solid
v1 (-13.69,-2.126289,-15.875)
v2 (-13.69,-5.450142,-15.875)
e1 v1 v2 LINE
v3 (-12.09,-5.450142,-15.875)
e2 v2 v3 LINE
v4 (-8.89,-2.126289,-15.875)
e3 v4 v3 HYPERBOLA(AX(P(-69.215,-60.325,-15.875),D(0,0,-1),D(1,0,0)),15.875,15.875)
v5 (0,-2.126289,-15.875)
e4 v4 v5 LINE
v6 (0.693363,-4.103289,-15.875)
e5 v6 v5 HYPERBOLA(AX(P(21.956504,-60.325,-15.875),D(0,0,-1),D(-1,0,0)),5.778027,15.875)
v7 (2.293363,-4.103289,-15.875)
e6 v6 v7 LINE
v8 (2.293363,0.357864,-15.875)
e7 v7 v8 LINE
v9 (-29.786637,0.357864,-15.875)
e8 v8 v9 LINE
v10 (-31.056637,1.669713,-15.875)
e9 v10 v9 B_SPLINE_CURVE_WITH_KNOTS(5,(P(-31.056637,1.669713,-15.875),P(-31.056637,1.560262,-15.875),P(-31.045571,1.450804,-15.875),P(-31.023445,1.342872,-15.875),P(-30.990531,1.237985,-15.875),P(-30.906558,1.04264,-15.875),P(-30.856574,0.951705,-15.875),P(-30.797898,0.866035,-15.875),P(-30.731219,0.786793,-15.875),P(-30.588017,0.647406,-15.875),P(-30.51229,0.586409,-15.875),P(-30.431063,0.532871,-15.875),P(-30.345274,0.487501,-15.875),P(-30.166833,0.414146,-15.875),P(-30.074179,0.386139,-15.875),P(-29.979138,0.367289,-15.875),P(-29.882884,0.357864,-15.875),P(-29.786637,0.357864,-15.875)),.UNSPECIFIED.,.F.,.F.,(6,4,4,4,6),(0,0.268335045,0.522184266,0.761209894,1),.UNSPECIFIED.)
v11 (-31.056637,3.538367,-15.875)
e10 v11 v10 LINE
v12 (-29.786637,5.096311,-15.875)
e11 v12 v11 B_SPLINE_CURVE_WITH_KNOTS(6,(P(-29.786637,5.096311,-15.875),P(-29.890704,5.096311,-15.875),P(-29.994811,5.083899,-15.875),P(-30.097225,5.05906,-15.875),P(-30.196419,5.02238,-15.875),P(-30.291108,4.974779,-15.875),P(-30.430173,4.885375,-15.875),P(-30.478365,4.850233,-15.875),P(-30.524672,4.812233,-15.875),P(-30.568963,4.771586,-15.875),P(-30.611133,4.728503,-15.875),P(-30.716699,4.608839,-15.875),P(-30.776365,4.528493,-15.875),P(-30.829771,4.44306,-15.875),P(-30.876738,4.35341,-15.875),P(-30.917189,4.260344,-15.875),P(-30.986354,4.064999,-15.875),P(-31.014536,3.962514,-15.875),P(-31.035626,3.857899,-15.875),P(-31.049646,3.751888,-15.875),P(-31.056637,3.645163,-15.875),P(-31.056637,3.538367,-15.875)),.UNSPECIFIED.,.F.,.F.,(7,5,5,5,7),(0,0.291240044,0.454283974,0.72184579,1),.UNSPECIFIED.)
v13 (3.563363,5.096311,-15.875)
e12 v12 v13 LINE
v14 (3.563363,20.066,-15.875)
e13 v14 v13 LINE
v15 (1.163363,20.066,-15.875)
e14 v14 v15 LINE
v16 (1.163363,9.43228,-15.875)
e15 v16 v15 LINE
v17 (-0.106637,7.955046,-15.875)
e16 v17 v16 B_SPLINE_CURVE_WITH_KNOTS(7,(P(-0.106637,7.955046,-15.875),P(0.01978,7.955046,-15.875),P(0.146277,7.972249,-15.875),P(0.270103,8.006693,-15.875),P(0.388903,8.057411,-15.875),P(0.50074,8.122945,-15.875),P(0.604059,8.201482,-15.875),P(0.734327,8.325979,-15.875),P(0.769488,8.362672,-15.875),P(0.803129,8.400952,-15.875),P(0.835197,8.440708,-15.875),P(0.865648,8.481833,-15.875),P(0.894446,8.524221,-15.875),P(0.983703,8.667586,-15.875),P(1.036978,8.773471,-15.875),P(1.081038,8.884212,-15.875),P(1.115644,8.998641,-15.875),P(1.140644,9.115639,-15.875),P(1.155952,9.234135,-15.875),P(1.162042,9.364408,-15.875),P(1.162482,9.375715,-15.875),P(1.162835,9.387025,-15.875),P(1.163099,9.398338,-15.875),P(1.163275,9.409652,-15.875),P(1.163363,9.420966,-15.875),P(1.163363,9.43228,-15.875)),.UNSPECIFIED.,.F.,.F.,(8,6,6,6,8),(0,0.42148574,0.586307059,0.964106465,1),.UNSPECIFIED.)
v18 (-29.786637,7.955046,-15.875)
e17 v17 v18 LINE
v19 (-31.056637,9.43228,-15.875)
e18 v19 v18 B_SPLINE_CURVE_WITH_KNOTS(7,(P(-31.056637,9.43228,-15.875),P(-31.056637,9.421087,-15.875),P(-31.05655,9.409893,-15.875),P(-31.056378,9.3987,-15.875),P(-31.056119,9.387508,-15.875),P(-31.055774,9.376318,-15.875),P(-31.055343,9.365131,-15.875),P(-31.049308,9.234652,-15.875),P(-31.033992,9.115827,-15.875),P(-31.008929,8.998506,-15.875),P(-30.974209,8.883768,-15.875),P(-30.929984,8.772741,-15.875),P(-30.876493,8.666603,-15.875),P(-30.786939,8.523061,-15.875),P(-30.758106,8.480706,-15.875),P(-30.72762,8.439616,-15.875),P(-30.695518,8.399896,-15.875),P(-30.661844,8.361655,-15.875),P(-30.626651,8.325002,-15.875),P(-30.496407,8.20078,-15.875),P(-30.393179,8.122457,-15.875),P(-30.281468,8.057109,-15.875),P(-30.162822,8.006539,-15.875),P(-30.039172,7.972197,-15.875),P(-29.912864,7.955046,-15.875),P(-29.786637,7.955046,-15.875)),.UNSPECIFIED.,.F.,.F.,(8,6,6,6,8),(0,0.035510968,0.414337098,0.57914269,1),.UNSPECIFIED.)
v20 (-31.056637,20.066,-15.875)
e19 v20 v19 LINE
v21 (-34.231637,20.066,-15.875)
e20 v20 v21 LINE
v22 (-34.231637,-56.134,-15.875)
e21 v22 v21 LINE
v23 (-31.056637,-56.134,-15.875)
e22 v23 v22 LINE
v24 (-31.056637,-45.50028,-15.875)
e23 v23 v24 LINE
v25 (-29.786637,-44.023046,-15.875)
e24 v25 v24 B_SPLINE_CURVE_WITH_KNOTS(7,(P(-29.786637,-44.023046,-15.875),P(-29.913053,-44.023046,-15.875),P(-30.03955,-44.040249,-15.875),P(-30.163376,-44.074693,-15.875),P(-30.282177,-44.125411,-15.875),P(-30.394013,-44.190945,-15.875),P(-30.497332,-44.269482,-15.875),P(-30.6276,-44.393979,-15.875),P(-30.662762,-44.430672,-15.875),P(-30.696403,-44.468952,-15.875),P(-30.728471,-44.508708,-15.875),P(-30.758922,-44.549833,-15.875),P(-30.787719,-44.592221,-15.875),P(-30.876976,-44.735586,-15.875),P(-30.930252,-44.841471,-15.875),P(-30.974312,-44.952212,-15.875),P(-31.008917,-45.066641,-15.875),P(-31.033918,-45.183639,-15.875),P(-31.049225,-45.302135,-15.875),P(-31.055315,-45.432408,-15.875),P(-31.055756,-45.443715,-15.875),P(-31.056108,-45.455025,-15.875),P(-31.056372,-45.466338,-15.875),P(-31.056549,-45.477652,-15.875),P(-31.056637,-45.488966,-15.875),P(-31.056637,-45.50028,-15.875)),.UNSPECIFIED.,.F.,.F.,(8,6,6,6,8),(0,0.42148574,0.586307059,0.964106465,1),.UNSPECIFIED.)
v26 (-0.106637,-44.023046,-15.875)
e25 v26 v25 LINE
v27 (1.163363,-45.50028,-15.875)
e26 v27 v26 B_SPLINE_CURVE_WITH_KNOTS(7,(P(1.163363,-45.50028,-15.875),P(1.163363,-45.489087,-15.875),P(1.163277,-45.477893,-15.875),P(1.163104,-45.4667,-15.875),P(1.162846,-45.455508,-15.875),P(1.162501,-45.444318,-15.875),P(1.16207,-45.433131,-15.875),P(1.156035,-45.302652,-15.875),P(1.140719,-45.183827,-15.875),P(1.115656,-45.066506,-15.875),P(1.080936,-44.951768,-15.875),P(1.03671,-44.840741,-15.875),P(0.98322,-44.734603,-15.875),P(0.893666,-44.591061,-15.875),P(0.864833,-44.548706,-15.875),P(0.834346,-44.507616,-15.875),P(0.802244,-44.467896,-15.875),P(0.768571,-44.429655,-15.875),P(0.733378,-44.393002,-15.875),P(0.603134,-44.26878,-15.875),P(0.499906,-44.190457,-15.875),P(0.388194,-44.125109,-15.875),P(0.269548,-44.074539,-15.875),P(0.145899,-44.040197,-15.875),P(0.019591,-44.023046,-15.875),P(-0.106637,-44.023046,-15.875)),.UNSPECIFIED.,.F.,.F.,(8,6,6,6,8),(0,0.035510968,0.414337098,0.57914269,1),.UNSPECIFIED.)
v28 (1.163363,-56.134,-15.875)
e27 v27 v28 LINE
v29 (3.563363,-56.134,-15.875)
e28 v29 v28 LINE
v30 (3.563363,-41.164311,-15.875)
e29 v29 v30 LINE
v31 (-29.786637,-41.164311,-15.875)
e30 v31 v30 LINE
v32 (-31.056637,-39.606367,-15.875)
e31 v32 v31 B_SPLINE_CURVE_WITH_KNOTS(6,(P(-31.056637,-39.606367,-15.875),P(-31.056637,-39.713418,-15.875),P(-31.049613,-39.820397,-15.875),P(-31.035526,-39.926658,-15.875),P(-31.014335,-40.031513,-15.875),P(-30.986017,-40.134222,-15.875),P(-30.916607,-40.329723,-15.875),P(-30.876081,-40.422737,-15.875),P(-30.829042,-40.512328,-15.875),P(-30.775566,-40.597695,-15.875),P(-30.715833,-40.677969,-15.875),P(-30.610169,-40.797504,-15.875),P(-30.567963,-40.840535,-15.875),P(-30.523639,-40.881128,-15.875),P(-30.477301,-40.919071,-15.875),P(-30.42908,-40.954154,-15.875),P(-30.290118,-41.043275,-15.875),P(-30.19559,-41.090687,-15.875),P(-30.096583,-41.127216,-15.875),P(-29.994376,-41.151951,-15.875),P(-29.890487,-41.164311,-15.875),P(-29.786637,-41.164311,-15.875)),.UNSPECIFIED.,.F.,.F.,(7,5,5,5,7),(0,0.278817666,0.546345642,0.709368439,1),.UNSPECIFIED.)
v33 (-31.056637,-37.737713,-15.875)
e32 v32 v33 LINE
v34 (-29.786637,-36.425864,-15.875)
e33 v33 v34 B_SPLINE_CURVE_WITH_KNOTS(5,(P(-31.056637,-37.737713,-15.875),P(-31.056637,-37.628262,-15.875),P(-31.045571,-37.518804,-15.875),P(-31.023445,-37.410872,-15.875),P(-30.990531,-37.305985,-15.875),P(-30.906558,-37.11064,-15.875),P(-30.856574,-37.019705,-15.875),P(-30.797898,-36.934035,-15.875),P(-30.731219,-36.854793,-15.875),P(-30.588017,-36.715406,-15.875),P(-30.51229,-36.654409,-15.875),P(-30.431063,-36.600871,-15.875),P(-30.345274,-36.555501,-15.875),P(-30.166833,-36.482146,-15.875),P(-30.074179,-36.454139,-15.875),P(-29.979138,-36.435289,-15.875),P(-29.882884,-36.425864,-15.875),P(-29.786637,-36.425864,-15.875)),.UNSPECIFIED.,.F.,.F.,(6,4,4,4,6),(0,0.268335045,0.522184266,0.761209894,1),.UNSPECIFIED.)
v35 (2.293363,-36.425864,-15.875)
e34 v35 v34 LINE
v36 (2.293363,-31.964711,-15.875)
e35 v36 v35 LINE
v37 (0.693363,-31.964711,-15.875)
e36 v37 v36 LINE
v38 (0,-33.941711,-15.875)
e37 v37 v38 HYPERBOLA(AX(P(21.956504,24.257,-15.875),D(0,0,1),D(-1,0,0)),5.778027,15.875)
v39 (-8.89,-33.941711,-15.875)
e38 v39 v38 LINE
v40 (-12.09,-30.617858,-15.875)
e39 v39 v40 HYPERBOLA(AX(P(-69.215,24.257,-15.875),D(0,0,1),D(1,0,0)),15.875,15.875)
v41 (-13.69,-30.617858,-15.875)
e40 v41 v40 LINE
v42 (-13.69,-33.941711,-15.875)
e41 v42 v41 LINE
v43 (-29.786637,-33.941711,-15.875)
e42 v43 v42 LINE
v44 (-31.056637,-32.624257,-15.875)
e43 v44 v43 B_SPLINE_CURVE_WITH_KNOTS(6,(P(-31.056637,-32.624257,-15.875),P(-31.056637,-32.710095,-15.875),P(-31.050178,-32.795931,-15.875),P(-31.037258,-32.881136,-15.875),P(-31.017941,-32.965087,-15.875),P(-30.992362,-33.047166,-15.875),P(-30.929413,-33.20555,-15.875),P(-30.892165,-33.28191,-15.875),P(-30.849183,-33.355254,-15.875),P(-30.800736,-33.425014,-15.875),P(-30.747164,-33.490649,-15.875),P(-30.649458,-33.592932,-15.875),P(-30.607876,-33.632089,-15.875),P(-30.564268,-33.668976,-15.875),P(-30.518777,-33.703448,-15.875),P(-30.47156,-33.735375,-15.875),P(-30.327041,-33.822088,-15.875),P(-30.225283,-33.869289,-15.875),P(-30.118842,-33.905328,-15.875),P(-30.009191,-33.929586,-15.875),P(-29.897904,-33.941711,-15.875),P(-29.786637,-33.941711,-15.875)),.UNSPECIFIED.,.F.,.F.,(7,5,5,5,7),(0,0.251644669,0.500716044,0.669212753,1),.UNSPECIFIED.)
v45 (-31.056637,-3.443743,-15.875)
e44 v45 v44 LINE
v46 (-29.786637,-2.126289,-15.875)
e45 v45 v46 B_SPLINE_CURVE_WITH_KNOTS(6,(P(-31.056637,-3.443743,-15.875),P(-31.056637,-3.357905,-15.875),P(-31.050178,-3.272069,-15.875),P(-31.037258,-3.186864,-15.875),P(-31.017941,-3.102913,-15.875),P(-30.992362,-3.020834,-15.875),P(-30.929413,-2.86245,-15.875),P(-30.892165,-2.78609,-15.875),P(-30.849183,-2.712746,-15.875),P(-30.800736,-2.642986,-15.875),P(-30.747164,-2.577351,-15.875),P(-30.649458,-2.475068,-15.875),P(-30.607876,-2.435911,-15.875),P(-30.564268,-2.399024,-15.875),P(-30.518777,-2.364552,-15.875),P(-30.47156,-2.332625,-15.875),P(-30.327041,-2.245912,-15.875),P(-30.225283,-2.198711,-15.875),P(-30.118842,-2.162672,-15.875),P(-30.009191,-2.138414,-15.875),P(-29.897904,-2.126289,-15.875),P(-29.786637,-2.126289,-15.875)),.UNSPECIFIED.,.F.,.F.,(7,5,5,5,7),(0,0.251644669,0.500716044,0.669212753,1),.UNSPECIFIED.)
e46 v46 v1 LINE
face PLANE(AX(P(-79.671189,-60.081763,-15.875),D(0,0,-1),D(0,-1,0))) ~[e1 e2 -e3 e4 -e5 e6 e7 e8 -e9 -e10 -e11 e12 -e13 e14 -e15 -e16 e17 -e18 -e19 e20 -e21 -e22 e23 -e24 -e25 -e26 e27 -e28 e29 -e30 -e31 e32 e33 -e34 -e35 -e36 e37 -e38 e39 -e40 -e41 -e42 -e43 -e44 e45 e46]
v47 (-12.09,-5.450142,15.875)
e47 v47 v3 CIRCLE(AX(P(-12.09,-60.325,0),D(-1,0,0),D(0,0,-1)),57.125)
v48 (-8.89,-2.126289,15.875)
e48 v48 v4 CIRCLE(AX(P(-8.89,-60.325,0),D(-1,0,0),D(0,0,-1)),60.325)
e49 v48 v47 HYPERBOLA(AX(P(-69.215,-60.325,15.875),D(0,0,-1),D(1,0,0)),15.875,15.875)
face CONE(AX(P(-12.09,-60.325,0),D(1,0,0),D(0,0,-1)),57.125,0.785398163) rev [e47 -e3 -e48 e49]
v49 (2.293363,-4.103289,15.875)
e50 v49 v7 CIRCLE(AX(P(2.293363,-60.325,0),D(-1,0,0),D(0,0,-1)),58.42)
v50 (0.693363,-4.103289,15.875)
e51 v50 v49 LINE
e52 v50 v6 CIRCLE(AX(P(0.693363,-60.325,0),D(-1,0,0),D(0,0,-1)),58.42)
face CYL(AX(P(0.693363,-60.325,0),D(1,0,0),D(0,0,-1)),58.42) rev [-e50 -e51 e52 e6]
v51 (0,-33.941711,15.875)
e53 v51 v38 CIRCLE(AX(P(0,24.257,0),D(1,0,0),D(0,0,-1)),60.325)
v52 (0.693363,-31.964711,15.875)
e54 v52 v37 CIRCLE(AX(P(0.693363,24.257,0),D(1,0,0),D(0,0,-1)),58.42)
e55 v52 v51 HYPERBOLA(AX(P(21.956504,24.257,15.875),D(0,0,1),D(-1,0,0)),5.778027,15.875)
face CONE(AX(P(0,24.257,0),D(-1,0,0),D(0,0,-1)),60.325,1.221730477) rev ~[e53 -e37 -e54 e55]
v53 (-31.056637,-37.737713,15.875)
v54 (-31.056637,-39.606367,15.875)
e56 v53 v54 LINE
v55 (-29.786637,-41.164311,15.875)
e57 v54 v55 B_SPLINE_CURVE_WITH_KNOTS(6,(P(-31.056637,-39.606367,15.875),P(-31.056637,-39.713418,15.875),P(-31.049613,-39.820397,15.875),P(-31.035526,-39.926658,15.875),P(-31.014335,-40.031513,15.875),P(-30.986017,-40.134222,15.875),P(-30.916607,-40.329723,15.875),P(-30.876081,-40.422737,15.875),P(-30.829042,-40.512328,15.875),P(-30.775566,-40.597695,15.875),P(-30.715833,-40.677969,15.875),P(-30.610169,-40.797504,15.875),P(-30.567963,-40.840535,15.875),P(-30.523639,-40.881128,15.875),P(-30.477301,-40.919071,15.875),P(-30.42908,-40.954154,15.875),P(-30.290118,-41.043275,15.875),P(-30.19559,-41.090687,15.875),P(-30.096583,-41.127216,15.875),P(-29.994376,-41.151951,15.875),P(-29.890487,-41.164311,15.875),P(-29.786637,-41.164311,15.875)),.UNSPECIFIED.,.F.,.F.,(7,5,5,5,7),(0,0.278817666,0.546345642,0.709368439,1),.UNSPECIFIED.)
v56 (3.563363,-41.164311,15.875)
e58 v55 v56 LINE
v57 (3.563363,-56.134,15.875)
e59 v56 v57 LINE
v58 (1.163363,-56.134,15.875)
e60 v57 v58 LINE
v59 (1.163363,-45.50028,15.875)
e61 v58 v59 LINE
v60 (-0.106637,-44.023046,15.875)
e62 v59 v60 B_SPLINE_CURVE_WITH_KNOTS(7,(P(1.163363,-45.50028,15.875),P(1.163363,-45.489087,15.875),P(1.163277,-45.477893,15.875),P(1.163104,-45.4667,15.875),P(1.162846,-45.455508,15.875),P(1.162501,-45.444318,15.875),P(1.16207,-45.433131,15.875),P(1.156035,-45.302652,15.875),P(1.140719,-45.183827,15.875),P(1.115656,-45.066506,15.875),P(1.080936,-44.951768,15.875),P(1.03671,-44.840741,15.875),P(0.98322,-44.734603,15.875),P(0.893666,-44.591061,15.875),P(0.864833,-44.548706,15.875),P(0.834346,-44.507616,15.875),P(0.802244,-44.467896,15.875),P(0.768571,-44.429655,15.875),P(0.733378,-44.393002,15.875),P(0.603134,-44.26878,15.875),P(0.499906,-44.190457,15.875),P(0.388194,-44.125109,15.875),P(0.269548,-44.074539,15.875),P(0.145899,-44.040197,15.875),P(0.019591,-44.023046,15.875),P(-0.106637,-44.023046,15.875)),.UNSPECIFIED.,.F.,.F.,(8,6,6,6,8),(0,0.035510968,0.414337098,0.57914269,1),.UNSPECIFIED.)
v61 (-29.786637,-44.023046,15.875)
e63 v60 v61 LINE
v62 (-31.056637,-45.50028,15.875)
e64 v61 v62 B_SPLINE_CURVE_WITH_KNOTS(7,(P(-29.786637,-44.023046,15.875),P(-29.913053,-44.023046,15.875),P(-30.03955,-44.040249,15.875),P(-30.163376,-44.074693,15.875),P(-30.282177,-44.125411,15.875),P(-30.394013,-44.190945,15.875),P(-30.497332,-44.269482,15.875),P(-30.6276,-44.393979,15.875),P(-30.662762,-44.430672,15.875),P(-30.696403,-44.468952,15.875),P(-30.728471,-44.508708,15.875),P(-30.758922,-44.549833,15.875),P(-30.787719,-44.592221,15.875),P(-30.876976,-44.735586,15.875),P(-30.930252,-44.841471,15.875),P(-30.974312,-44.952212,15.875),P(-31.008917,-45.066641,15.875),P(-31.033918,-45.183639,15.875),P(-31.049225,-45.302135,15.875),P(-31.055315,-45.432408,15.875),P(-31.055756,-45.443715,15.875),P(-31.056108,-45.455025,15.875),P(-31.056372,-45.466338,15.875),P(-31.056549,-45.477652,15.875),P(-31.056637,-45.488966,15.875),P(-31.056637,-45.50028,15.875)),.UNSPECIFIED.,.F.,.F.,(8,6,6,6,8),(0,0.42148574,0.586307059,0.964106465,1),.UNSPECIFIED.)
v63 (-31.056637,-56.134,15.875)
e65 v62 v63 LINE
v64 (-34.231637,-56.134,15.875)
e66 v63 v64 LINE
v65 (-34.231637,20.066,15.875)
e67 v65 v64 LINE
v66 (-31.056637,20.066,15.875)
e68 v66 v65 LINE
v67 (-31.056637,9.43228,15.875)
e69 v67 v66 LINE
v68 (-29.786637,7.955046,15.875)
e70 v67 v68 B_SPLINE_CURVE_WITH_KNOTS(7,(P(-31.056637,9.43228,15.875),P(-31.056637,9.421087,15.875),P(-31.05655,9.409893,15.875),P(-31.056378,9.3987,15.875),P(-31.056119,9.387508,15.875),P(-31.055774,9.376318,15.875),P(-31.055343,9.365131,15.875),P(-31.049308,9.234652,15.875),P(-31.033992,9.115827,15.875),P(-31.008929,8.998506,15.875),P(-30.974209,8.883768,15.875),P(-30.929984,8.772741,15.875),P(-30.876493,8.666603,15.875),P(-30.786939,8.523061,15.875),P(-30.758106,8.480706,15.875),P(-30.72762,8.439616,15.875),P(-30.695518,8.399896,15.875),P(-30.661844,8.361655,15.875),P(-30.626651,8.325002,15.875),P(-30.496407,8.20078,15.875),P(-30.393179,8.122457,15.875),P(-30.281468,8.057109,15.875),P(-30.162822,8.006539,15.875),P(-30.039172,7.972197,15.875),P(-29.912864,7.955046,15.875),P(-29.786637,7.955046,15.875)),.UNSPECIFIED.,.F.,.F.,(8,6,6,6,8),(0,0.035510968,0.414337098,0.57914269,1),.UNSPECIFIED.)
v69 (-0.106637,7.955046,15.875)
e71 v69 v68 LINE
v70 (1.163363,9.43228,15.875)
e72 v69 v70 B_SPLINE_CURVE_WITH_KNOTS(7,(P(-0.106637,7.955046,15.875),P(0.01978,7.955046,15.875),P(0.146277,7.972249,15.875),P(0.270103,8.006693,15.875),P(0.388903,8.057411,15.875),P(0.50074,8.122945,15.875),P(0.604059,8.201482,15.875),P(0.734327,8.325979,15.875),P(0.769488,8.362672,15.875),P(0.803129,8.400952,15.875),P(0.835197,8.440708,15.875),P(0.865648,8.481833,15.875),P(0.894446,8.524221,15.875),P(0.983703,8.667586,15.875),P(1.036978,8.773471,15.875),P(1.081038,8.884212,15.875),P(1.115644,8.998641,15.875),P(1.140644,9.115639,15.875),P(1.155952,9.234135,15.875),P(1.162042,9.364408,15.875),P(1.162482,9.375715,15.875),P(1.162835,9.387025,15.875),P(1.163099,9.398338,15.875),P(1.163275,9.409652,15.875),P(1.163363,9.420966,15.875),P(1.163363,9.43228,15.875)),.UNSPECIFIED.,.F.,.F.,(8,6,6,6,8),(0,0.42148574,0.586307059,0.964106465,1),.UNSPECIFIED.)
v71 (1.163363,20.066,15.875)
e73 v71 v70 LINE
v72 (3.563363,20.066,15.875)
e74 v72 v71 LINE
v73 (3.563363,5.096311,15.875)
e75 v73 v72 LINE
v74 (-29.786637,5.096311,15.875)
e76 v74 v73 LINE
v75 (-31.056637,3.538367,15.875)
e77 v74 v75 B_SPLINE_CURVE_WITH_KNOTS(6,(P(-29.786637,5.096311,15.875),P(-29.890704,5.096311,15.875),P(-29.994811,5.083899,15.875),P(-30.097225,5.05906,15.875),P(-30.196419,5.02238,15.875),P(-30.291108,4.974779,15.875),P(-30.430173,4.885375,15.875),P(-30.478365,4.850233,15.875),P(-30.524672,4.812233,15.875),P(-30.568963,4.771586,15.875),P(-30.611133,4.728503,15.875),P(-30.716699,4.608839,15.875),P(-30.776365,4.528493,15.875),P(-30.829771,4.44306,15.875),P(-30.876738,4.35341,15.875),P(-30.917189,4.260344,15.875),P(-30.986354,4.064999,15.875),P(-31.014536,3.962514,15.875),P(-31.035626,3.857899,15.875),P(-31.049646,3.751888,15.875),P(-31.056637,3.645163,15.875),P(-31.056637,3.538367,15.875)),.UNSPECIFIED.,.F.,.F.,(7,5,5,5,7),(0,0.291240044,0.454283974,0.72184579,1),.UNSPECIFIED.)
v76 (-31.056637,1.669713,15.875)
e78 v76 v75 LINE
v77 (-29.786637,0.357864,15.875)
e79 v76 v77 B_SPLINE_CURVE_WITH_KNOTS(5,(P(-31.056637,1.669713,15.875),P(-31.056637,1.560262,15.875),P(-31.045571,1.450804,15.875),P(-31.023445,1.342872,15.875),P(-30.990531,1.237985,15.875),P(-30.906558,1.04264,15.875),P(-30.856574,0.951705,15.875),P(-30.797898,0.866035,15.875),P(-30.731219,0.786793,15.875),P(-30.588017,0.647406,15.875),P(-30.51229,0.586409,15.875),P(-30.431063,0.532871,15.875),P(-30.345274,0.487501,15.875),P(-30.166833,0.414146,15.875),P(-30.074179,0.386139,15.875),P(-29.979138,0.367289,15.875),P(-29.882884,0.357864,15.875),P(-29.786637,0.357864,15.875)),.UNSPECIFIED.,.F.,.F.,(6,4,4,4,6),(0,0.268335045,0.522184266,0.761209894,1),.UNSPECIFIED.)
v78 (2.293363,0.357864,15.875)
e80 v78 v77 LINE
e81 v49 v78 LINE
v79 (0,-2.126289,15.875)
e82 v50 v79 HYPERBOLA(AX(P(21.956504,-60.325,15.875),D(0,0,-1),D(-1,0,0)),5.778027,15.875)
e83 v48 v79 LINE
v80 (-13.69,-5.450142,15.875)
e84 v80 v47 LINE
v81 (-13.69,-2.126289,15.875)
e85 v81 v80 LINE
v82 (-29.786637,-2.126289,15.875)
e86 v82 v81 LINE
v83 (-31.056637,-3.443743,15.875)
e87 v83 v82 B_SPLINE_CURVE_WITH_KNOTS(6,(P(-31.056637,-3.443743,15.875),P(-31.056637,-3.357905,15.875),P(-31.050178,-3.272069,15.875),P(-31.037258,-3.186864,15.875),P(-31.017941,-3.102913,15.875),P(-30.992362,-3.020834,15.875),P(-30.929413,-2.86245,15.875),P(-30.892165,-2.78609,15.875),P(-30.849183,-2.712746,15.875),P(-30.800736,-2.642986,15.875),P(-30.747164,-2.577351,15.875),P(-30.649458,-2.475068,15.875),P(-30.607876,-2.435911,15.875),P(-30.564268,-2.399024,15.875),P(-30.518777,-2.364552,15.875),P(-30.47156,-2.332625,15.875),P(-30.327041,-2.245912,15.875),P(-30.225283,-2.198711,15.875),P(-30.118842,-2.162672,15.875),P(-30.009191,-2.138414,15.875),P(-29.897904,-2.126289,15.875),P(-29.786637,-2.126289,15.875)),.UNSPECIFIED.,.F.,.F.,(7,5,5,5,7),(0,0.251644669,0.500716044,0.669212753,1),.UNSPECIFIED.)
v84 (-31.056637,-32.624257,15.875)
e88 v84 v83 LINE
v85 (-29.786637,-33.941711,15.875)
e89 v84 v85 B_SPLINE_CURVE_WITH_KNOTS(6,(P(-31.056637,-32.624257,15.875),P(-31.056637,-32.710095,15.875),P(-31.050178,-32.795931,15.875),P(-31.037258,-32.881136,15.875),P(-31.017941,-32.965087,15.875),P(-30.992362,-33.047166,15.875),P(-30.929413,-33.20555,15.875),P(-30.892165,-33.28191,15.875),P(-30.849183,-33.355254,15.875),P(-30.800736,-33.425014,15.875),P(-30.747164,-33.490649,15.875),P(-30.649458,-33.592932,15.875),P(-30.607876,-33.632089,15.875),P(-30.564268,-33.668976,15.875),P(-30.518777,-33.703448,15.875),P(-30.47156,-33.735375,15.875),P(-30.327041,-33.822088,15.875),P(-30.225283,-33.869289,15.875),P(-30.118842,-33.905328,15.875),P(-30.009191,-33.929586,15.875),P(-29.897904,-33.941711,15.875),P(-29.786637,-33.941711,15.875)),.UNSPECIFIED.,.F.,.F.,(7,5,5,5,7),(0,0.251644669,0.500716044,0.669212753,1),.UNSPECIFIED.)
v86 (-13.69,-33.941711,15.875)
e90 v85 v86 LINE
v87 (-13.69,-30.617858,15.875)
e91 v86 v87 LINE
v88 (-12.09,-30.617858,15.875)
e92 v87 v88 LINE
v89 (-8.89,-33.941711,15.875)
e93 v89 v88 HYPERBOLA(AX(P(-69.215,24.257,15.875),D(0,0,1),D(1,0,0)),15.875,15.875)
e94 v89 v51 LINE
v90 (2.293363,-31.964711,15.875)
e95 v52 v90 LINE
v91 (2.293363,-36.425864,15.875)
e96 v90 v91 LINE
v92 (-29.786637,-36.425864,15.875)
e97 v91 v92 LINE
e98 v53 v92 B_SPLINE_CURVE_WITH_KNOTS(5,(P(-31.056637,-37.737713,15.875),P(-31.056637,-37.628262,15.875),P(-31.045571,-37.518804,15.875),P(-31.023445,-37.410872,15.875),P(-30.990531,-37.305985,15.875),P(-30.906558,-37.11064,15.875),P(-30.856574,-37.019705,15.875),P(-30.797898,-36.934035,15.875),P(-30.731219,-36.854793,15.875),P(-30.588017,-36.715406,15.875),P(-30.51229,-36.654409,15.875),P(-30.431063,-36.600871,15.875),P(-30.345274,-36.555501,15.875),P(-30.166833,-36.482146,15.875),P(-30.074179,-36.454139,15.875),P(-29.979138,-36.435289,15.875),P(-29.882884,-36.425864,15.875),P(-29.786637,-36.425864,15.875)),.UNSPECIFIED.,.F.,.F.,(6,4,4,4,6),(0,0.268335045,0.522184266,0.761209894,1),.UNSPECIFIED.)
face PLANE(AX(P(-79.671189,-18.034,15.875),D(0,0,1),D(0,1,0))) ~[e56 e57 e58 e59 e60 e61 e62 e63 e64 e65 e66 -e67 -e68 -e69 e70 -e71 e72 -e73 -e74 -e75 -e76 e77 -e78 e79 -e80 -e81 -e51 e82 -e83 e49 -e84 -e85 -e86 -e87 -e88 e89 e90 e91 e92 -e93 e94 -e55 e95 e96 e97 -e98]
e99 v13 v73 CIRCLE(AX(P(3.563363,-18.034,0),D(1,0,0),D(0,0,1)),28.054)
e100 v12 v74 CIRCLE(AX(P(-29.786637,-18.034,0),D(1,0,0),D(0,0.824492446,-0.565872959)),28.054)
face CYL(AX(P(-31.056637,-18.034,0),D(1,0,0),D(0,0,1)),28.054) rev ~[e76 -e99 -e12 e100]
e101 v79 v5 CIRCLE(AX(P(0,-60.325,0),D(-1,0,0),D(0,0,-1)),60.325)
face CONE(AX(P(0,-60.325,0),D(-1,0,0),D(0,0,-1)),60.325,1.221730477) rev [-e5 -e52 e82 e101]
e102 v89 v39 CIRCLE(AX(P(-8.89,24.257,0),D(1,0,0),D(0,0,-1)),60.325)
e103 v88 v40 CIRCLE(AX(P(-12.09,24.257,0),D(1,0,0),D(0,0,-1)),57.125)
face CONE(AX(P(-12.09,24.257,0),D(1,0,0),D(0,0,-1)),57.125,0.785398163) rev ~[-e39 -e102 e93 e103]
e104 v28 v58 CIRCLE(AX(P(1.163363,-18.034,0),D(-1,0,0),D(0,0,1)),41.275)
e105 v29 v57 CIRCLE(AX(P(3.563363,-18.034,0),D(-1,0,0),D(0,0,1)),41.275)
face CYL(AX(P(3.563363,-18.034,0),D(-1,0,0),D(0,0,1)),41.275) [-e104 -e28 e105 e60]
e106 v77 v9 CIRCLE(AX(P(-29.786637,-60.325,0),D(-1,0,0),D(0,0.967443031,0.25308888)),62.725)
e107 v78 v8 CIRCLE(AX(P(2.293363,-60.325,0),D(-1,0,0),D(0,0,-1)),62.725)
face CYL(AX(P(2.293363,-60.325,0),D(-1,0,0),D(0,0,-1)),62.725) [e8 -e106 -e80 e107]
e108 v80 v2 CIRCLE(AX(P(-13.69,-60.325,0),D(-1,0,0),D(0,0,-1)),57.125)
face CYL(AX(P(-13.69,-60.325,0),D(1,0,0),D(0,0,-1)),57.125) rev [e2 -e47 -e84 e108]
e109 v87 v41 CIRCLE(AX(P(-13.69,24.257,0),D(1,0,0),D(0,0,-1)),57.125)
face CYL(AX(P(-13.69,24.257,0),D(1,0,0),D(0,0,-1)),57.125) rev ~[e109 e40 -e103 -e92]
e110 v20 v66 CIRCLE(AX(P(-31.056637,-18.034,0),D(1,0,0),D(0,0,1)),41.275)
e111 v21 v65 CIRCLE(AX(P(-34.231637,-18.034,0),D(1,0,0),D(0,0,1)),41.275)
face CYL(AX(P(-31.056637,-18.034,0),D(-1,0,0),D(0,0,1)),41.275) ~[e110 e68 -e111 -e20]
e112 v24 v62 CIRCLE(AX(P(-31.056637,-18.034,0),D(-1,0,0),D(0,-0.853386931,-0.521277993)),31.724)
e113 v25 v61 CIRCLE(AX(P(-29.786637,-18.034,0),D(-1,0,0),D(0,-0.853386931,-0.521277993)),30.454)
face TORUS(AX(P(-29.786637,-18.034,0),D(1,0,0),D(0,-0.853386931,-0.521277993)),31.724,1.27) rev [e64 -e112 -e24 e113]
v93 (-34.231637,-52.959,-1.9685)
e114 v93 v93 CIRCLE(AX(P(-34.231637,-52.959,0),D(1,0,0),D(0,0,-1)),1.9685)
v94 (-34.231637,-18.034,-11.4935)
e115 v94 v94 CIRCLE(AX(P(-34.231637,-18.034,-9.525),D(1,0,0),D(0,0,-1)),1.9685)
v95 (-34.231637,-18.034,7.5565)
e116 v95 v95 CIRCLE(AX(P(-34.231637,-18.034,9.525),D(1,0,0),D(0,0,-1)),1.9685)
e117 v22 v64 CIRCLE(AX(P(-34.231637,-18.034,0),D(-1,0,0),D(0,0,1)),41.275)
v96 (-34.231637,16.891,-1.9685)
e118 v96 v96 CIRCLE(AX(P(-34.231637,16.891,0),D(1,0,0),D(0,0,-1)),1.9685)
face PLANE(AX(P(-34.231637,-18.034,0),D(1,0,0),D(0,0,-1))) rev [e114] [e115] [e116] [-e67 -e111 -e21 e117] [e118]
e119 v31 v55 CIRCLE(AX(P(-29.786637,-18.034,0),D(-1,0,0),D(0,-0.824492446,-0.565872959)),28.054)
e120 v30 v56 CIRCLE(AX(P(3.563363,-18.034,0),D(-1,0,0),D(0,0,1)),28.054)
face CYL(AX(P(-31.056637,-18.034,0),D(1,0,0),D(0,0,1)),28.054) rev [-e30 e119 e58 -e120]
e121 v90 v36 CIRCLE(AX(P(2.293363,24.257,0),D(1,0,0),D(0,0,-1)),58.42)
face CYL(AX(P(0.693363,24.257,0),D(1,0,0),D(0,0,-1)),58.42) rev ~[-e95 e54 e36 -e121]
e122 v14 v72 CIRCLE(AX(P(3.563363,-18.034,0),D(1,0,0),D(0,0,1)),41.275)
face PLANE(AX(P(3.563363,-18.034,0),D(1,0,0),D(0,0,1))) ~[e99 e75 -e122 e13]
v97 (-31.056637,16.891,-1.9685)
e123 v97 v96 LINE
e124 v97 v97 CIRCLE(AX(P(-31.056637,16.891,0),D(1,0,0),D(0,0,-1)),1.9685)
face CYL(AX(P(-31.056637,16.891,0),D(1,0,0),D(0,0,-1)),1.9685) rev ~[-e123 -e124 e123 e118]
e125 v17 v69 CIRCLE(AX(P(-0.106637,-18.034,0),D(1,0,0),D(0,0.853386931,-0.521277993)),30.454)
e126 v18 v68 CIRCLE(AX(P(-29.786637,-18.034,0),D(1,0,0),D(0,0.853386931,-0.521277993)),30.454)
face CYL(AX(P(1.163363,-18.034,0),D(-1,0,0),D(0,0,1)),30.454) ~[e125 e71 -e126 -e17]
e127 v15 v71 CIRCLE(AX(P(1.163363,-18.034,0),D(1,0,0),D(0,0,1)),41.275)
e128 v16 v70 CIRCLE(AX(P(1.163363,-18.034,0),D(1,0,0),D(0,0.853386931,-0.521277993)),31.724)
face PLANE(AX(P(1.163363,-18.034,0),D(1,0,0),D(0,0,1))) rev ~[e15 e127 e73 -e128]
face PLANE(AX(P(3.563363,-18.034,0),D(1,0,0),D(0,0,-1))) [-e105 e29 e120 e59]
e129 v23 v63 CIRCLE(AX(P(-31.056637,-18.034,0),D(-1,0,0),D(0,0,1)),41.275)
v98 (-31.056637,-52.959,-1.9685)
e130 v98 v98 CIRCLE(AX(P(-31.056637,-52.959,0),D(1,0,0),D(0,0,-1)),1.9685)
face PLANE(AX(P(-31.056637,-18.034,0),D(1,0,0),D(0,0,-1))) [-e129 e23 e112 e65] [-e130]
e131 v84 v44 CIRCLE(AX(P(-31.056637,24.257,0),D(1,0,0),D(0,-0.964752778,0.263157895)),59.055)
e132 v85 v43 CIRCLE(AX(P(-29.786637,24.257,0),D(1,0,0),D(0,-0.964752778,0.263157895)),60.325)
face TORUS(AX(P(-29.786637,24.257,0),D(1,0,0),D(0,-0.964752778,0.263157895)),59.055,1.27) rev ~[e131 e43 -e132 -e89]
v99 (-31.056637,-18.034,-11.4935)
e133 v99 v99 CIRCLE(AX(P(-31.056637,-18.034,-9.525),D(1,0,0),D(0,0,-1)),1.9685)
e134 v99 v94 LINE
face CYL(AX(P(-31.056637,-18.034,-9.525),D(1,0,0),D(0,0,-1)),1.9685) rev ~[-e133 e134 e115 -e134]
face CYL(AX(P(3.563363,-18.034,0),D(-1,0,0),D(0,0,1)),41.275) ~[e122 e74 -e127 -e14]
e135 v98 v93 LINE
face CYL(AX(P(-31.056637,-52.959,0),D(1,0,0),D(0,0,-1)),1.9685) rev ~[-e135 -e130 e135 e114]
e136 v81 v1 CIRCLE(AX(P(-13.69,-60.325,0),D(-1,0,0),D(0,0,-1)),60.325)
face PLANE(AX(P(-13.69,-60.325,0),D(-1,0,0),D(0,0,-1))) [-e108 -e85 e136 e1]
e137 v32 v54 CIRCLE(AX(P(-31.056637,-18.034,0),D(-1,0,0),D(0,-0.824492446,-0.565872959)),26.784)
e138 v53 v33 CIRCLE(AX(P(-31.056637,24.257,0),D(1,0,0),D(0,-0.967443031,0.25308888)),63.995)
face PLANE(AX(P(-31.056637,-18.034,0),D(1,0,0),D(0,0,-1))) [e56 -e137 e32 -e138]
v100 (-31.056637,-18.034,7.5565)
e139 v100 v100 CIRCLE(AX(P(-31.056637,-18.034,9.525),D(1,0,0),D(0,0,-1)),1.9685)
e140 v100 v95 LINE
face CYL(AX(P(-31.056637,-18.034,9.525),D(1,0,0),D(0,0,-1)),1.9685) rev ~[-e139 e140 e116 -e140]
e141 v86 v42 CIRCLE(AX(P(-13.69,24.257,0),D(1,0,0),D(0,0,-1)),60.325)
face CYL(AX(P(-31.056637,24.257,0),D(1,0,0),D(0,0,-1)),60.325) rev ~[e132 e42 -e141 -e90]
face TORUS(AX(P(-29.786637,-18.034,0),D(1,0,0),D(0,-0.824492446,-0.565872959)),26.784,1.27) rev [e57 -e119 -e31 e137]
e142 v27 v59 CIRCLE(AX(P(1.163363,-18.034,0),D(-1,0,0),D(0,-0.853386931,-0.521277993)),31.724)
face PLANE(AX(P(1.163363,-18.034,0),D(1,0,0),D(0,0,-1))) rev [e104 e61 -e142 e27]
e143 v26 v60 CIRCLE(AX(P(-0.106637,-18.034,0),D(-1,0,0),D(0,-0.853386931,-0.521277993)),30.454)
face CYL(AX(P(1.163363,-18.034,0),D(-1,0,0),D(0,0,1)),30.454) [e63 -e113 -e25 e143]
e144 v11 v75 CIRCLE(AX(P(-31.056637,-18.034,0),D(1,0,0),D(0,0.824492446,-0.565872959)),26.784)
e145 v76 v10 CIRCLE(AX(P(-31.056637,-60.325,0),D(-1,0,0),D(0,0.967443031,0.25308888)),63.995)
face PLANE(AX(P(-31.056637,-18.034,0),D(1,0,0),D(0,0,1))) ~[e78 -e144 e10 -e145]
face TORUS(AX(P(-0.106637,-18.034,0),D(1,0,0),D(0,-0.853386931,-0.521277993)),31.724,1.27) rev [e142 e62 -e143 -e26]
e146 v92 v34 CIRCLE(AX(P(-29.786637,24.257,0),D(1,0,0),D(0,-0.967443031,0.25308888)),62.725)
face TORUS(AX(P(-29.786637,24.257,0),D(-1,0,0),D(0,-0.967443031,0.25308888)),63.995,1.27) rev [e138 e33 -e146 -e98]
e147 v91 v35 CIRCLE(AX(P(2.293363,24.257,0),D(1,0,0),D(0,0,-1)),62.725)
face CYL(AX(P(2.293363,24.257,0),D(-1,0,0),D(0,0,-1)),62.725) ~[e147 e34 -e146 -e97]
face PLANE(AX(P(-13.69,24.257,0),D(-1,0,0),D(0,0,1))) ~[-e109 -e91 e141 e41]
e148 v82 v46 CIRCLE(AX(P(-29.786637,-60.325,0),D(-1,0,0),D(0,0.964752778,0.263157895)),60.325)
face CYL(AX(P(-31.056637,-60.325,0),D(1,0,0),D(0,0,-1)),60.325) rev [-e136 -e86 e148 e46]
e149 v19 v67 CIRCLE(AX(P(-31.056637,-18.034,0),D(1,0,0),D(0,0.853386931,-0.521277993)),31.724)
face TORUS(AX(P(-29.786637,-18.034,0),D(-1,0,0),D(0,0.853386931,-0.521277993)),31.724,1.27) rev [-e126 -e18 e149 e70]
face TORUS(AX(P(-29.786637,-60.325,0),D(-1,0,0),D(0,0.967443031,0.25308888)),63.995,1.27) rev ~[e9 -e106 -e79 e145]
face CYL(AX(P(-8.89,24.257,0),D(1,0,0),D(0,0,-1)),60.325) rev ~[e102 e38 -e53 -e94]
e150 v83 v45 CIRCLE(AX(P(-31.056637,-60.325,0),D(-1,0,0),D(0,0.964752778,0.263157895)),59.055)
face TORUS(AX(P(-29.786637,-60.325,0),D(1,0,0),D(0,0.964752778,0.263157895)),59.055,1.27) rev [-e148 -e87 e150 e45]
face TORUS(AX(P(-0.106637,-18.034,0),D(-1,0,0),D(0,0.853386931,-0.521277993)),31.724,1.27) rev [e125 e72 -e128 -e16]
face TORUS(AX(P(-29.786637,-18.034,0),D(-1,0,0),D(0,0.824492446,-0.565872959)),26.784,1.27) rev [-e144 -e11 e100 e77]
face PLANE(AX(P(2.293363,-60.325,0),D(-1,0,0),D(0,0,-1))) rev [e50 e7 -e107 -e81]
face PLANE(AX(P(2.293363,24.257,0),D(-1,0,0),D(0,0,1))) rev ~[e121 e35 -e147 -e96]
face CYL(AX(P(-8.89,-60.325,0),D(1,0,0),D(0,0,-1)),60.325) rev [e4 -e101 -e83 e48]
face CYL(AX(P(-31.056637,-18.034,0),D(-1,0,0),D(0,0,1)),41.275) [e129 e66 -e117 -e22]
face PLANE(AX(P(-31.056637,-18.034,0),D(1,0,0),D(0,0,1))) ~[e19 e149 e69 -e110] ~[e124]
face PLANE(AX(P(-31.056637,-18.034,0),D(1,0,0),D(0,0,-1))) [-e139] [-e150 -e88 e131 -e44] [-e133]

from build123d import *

# Parameters (mm, degrees)
SKETCH2_OUTSIDE_W           = 163.676
SKETCH2_OUTSIDE_H           = 163.676
SKETCH2_OUTSIDE_W_2         = 31.75
SKETCH2_OUTSIDE_H_2         = 36.068
CUT_EXTRUDE1_DEPTH          = 143.862884438
FILLET1_R                   = 1.27
FILLET2_R                   = 2.54
RINGCUT_EXTRUDE3_DEPTH      = 81.964552311
RINGCUT_EXTRUDE3_DEPTH_BACK = 81.964552311
SKETCH6_OUTSIDE_W           = 109.092
SKETCH6_OUTSIDE_H           = 109.092
SKETCH4_R                   = 1.9685
CUT_EXTRUDE2_DEPTH          = 71.484874378
RINGFILLET4_R               = 1.27
SKETCH7_R                   = 1.9685
CUT_EXTRUDE4_DEPTH          = 71.484874378


with BuildPart() as part:
    # Sketch1 → Revolve1 (revolve)
    with BuildSketch(Plane.XY, mode=Mode.PRIVATE) as revolve1_sk:
        Polygon((0, 0), (0.693363296, -1.905), (2.293363296, -1.905), (2.293363296, 2.4), (-34.231636704, 2.4), (-34.231636704, -60.325), (-31.056636704, -60.325), (-31.056636704, 0), (-13.69, 0), (-13.69, -3.2), (-12.09, -3.2), (-8.89, 0), align=None)
    revolve(revolve1_sk.sketch.rotate(Axis((-31.056636704, -60.325, 0), (-1, 0, 0)), 90), axis=Axis((-31.056636704, -60.325, 0), (-1, 0, 0)))

    # Sketch2 outside → Cut-Extrude1 (cut, through all)
    with BuildSketch(Plane(origin=(2.293363296, 0, 0), x_dir=(0, 0, -1), z_dir=(1, 0, 0))):
        with Locations((0, -60.325)):
            Rectangle(SKETCH2_OUTSIDE_W, SKETCH2_OUTSIDE_H)
        Rectangle(SKETCH2_OUTSIDE_W_2, SKETCH2_OUTSIDE_H_2, mode=Mode.SUBTRACT)
    extrude(amount=-CUT_EXTRUDE1_DEPTH, mode=Mode.SUBTRACT)

    # Fillet1
    fillet1_edges = [part.edges().sort_by_distance(p)[0] for p in [
        (-31.056636704, 0, 0),
    ]]
    fillet(fillet1_edges, radius=FILLET1_R)

    # Fillet2
    fillet2_edges = [part.edges().sort_by_distance(p)[0] for p in [
        (-34.231636704, 2.4, 0),
    ]]
    fillet(fillet2_edges, radius=FILLET2_R)

    # Sketch5 → RingRevolve2 (revolve)
    with BuildSketch(Plane.XY, mode=Mode.PRIVATE) as ringrevolve2_sk:
        Polygon((-31.056636704, -3.443742982), (-31.056636704, 10.02), (3.563363296, 10.02), (3.563363296, 23.241), (1.163363296, 23.241), (1.163363296, 12.42), (-31.056636704, 12.42), (-31.056636704, 23.241), (-34.231636704, 23.241), (-34.231636704, 11.15), (-34.231636704, -3.443742982), align=None)
    revolve(ringrevolve2_sk.sketch.rotate(Axis((-34.231636704, -18.034, 0), (1, 0, 0)), 90), axis=Axis((-34.231636704, -18.034, 0), (1, 0, 0)))

    # Sketch6 outside → RingCut-Extrude3 (cut, two sides: drawn at the far end of the back side and taken through both)
    with BuildSketch(Plane(origin=(2.293363296, 0, 0), x_dir=(0, 0, -1), z_dir=(1, 0, 0)).offset(-RINGCUT_EXTRUDE3_DEPTH_BACK)):
        with Locations((0, -18.034)):
            Rectangle(SKETCH6_OUTSIDE_W, SKETCH6_OUTSIDE_H)
        Polygon((-15.875, 0.357864138), (-15.875, -18.034), (15.875, -18.034), (15.875, 0.357864138), (15.875, 24.013762752), (-15.875, 24.013762752), align=None, mode=Mode.SUBTRACT)
    extrude(amount=RINGCUT_EXTRUDE3_DEPTH + RINGCUT_EXTRUDE3_DEPTH_BACK, mode=Mode.SUBTRACT)

    # Mirror1: part across plane


with BuildPart() as part_1:
    add(part.part)
    add(part.part.mirror(Plane(origin=(-34.231636704, -18.034, 15.875), x_dir=(0, 0, 1), z_dir=(0, -1, 0))))

    # Sketch4 → Cut-Extrude2 (cut, through all)
    with BuildSketch(Plane(origin=(-31.056636704, 0, 0), x_dir=(0, 0, -1), z_dir=(1, 0, 0))):
        with Locations((-9.525, -18.034)):
            Circle(SKETCH4_R)
        with Locations((9.525, -18.034)):
            Circle(SKETCH4_R)
    extrude(amount=-CUT_EXTRUDE2_DEPTH, mode=Mode.SUBTRACT)

    # RingFillet4
    ringfillet4_edges = [part_1.edges().sort_by_distance(p)[0] for p in [
        (-31.056636704, -38.468, 0),
        (-31.056636704, -46.088, 0),
        (1.163363296, -48.488, 0),
        (-31.056636704, -48.488, 0),
        (-31.056636704, 2.4, 0),
        (-31.056636704, 10.02, 0),
        (1.163363296, 12.42, 0),
        (-31.056636704, 12.42, 0),
    ]]
    fillet(ringfillet4_edges, radius=RINGFILLET4_R)

    # Sketch7 → Cut-Extrude4 (cut, through all)
    with BuildSketch(Plane(origin=(-31.056636704, 0, 0), x_dir=(0, 0, -1), z_dir=(1, 0, 0))):
        with Locations((0, 16.891)):
            Circle(SKETCH7_R)
        with Locations((0, -52.959)):
            Circle(SKETCH7_R)
    extrude(amount=-CUT_EXTRUDE4_DEPTH, mode=Mode.SUBTRACT)


solid = part_1.part
